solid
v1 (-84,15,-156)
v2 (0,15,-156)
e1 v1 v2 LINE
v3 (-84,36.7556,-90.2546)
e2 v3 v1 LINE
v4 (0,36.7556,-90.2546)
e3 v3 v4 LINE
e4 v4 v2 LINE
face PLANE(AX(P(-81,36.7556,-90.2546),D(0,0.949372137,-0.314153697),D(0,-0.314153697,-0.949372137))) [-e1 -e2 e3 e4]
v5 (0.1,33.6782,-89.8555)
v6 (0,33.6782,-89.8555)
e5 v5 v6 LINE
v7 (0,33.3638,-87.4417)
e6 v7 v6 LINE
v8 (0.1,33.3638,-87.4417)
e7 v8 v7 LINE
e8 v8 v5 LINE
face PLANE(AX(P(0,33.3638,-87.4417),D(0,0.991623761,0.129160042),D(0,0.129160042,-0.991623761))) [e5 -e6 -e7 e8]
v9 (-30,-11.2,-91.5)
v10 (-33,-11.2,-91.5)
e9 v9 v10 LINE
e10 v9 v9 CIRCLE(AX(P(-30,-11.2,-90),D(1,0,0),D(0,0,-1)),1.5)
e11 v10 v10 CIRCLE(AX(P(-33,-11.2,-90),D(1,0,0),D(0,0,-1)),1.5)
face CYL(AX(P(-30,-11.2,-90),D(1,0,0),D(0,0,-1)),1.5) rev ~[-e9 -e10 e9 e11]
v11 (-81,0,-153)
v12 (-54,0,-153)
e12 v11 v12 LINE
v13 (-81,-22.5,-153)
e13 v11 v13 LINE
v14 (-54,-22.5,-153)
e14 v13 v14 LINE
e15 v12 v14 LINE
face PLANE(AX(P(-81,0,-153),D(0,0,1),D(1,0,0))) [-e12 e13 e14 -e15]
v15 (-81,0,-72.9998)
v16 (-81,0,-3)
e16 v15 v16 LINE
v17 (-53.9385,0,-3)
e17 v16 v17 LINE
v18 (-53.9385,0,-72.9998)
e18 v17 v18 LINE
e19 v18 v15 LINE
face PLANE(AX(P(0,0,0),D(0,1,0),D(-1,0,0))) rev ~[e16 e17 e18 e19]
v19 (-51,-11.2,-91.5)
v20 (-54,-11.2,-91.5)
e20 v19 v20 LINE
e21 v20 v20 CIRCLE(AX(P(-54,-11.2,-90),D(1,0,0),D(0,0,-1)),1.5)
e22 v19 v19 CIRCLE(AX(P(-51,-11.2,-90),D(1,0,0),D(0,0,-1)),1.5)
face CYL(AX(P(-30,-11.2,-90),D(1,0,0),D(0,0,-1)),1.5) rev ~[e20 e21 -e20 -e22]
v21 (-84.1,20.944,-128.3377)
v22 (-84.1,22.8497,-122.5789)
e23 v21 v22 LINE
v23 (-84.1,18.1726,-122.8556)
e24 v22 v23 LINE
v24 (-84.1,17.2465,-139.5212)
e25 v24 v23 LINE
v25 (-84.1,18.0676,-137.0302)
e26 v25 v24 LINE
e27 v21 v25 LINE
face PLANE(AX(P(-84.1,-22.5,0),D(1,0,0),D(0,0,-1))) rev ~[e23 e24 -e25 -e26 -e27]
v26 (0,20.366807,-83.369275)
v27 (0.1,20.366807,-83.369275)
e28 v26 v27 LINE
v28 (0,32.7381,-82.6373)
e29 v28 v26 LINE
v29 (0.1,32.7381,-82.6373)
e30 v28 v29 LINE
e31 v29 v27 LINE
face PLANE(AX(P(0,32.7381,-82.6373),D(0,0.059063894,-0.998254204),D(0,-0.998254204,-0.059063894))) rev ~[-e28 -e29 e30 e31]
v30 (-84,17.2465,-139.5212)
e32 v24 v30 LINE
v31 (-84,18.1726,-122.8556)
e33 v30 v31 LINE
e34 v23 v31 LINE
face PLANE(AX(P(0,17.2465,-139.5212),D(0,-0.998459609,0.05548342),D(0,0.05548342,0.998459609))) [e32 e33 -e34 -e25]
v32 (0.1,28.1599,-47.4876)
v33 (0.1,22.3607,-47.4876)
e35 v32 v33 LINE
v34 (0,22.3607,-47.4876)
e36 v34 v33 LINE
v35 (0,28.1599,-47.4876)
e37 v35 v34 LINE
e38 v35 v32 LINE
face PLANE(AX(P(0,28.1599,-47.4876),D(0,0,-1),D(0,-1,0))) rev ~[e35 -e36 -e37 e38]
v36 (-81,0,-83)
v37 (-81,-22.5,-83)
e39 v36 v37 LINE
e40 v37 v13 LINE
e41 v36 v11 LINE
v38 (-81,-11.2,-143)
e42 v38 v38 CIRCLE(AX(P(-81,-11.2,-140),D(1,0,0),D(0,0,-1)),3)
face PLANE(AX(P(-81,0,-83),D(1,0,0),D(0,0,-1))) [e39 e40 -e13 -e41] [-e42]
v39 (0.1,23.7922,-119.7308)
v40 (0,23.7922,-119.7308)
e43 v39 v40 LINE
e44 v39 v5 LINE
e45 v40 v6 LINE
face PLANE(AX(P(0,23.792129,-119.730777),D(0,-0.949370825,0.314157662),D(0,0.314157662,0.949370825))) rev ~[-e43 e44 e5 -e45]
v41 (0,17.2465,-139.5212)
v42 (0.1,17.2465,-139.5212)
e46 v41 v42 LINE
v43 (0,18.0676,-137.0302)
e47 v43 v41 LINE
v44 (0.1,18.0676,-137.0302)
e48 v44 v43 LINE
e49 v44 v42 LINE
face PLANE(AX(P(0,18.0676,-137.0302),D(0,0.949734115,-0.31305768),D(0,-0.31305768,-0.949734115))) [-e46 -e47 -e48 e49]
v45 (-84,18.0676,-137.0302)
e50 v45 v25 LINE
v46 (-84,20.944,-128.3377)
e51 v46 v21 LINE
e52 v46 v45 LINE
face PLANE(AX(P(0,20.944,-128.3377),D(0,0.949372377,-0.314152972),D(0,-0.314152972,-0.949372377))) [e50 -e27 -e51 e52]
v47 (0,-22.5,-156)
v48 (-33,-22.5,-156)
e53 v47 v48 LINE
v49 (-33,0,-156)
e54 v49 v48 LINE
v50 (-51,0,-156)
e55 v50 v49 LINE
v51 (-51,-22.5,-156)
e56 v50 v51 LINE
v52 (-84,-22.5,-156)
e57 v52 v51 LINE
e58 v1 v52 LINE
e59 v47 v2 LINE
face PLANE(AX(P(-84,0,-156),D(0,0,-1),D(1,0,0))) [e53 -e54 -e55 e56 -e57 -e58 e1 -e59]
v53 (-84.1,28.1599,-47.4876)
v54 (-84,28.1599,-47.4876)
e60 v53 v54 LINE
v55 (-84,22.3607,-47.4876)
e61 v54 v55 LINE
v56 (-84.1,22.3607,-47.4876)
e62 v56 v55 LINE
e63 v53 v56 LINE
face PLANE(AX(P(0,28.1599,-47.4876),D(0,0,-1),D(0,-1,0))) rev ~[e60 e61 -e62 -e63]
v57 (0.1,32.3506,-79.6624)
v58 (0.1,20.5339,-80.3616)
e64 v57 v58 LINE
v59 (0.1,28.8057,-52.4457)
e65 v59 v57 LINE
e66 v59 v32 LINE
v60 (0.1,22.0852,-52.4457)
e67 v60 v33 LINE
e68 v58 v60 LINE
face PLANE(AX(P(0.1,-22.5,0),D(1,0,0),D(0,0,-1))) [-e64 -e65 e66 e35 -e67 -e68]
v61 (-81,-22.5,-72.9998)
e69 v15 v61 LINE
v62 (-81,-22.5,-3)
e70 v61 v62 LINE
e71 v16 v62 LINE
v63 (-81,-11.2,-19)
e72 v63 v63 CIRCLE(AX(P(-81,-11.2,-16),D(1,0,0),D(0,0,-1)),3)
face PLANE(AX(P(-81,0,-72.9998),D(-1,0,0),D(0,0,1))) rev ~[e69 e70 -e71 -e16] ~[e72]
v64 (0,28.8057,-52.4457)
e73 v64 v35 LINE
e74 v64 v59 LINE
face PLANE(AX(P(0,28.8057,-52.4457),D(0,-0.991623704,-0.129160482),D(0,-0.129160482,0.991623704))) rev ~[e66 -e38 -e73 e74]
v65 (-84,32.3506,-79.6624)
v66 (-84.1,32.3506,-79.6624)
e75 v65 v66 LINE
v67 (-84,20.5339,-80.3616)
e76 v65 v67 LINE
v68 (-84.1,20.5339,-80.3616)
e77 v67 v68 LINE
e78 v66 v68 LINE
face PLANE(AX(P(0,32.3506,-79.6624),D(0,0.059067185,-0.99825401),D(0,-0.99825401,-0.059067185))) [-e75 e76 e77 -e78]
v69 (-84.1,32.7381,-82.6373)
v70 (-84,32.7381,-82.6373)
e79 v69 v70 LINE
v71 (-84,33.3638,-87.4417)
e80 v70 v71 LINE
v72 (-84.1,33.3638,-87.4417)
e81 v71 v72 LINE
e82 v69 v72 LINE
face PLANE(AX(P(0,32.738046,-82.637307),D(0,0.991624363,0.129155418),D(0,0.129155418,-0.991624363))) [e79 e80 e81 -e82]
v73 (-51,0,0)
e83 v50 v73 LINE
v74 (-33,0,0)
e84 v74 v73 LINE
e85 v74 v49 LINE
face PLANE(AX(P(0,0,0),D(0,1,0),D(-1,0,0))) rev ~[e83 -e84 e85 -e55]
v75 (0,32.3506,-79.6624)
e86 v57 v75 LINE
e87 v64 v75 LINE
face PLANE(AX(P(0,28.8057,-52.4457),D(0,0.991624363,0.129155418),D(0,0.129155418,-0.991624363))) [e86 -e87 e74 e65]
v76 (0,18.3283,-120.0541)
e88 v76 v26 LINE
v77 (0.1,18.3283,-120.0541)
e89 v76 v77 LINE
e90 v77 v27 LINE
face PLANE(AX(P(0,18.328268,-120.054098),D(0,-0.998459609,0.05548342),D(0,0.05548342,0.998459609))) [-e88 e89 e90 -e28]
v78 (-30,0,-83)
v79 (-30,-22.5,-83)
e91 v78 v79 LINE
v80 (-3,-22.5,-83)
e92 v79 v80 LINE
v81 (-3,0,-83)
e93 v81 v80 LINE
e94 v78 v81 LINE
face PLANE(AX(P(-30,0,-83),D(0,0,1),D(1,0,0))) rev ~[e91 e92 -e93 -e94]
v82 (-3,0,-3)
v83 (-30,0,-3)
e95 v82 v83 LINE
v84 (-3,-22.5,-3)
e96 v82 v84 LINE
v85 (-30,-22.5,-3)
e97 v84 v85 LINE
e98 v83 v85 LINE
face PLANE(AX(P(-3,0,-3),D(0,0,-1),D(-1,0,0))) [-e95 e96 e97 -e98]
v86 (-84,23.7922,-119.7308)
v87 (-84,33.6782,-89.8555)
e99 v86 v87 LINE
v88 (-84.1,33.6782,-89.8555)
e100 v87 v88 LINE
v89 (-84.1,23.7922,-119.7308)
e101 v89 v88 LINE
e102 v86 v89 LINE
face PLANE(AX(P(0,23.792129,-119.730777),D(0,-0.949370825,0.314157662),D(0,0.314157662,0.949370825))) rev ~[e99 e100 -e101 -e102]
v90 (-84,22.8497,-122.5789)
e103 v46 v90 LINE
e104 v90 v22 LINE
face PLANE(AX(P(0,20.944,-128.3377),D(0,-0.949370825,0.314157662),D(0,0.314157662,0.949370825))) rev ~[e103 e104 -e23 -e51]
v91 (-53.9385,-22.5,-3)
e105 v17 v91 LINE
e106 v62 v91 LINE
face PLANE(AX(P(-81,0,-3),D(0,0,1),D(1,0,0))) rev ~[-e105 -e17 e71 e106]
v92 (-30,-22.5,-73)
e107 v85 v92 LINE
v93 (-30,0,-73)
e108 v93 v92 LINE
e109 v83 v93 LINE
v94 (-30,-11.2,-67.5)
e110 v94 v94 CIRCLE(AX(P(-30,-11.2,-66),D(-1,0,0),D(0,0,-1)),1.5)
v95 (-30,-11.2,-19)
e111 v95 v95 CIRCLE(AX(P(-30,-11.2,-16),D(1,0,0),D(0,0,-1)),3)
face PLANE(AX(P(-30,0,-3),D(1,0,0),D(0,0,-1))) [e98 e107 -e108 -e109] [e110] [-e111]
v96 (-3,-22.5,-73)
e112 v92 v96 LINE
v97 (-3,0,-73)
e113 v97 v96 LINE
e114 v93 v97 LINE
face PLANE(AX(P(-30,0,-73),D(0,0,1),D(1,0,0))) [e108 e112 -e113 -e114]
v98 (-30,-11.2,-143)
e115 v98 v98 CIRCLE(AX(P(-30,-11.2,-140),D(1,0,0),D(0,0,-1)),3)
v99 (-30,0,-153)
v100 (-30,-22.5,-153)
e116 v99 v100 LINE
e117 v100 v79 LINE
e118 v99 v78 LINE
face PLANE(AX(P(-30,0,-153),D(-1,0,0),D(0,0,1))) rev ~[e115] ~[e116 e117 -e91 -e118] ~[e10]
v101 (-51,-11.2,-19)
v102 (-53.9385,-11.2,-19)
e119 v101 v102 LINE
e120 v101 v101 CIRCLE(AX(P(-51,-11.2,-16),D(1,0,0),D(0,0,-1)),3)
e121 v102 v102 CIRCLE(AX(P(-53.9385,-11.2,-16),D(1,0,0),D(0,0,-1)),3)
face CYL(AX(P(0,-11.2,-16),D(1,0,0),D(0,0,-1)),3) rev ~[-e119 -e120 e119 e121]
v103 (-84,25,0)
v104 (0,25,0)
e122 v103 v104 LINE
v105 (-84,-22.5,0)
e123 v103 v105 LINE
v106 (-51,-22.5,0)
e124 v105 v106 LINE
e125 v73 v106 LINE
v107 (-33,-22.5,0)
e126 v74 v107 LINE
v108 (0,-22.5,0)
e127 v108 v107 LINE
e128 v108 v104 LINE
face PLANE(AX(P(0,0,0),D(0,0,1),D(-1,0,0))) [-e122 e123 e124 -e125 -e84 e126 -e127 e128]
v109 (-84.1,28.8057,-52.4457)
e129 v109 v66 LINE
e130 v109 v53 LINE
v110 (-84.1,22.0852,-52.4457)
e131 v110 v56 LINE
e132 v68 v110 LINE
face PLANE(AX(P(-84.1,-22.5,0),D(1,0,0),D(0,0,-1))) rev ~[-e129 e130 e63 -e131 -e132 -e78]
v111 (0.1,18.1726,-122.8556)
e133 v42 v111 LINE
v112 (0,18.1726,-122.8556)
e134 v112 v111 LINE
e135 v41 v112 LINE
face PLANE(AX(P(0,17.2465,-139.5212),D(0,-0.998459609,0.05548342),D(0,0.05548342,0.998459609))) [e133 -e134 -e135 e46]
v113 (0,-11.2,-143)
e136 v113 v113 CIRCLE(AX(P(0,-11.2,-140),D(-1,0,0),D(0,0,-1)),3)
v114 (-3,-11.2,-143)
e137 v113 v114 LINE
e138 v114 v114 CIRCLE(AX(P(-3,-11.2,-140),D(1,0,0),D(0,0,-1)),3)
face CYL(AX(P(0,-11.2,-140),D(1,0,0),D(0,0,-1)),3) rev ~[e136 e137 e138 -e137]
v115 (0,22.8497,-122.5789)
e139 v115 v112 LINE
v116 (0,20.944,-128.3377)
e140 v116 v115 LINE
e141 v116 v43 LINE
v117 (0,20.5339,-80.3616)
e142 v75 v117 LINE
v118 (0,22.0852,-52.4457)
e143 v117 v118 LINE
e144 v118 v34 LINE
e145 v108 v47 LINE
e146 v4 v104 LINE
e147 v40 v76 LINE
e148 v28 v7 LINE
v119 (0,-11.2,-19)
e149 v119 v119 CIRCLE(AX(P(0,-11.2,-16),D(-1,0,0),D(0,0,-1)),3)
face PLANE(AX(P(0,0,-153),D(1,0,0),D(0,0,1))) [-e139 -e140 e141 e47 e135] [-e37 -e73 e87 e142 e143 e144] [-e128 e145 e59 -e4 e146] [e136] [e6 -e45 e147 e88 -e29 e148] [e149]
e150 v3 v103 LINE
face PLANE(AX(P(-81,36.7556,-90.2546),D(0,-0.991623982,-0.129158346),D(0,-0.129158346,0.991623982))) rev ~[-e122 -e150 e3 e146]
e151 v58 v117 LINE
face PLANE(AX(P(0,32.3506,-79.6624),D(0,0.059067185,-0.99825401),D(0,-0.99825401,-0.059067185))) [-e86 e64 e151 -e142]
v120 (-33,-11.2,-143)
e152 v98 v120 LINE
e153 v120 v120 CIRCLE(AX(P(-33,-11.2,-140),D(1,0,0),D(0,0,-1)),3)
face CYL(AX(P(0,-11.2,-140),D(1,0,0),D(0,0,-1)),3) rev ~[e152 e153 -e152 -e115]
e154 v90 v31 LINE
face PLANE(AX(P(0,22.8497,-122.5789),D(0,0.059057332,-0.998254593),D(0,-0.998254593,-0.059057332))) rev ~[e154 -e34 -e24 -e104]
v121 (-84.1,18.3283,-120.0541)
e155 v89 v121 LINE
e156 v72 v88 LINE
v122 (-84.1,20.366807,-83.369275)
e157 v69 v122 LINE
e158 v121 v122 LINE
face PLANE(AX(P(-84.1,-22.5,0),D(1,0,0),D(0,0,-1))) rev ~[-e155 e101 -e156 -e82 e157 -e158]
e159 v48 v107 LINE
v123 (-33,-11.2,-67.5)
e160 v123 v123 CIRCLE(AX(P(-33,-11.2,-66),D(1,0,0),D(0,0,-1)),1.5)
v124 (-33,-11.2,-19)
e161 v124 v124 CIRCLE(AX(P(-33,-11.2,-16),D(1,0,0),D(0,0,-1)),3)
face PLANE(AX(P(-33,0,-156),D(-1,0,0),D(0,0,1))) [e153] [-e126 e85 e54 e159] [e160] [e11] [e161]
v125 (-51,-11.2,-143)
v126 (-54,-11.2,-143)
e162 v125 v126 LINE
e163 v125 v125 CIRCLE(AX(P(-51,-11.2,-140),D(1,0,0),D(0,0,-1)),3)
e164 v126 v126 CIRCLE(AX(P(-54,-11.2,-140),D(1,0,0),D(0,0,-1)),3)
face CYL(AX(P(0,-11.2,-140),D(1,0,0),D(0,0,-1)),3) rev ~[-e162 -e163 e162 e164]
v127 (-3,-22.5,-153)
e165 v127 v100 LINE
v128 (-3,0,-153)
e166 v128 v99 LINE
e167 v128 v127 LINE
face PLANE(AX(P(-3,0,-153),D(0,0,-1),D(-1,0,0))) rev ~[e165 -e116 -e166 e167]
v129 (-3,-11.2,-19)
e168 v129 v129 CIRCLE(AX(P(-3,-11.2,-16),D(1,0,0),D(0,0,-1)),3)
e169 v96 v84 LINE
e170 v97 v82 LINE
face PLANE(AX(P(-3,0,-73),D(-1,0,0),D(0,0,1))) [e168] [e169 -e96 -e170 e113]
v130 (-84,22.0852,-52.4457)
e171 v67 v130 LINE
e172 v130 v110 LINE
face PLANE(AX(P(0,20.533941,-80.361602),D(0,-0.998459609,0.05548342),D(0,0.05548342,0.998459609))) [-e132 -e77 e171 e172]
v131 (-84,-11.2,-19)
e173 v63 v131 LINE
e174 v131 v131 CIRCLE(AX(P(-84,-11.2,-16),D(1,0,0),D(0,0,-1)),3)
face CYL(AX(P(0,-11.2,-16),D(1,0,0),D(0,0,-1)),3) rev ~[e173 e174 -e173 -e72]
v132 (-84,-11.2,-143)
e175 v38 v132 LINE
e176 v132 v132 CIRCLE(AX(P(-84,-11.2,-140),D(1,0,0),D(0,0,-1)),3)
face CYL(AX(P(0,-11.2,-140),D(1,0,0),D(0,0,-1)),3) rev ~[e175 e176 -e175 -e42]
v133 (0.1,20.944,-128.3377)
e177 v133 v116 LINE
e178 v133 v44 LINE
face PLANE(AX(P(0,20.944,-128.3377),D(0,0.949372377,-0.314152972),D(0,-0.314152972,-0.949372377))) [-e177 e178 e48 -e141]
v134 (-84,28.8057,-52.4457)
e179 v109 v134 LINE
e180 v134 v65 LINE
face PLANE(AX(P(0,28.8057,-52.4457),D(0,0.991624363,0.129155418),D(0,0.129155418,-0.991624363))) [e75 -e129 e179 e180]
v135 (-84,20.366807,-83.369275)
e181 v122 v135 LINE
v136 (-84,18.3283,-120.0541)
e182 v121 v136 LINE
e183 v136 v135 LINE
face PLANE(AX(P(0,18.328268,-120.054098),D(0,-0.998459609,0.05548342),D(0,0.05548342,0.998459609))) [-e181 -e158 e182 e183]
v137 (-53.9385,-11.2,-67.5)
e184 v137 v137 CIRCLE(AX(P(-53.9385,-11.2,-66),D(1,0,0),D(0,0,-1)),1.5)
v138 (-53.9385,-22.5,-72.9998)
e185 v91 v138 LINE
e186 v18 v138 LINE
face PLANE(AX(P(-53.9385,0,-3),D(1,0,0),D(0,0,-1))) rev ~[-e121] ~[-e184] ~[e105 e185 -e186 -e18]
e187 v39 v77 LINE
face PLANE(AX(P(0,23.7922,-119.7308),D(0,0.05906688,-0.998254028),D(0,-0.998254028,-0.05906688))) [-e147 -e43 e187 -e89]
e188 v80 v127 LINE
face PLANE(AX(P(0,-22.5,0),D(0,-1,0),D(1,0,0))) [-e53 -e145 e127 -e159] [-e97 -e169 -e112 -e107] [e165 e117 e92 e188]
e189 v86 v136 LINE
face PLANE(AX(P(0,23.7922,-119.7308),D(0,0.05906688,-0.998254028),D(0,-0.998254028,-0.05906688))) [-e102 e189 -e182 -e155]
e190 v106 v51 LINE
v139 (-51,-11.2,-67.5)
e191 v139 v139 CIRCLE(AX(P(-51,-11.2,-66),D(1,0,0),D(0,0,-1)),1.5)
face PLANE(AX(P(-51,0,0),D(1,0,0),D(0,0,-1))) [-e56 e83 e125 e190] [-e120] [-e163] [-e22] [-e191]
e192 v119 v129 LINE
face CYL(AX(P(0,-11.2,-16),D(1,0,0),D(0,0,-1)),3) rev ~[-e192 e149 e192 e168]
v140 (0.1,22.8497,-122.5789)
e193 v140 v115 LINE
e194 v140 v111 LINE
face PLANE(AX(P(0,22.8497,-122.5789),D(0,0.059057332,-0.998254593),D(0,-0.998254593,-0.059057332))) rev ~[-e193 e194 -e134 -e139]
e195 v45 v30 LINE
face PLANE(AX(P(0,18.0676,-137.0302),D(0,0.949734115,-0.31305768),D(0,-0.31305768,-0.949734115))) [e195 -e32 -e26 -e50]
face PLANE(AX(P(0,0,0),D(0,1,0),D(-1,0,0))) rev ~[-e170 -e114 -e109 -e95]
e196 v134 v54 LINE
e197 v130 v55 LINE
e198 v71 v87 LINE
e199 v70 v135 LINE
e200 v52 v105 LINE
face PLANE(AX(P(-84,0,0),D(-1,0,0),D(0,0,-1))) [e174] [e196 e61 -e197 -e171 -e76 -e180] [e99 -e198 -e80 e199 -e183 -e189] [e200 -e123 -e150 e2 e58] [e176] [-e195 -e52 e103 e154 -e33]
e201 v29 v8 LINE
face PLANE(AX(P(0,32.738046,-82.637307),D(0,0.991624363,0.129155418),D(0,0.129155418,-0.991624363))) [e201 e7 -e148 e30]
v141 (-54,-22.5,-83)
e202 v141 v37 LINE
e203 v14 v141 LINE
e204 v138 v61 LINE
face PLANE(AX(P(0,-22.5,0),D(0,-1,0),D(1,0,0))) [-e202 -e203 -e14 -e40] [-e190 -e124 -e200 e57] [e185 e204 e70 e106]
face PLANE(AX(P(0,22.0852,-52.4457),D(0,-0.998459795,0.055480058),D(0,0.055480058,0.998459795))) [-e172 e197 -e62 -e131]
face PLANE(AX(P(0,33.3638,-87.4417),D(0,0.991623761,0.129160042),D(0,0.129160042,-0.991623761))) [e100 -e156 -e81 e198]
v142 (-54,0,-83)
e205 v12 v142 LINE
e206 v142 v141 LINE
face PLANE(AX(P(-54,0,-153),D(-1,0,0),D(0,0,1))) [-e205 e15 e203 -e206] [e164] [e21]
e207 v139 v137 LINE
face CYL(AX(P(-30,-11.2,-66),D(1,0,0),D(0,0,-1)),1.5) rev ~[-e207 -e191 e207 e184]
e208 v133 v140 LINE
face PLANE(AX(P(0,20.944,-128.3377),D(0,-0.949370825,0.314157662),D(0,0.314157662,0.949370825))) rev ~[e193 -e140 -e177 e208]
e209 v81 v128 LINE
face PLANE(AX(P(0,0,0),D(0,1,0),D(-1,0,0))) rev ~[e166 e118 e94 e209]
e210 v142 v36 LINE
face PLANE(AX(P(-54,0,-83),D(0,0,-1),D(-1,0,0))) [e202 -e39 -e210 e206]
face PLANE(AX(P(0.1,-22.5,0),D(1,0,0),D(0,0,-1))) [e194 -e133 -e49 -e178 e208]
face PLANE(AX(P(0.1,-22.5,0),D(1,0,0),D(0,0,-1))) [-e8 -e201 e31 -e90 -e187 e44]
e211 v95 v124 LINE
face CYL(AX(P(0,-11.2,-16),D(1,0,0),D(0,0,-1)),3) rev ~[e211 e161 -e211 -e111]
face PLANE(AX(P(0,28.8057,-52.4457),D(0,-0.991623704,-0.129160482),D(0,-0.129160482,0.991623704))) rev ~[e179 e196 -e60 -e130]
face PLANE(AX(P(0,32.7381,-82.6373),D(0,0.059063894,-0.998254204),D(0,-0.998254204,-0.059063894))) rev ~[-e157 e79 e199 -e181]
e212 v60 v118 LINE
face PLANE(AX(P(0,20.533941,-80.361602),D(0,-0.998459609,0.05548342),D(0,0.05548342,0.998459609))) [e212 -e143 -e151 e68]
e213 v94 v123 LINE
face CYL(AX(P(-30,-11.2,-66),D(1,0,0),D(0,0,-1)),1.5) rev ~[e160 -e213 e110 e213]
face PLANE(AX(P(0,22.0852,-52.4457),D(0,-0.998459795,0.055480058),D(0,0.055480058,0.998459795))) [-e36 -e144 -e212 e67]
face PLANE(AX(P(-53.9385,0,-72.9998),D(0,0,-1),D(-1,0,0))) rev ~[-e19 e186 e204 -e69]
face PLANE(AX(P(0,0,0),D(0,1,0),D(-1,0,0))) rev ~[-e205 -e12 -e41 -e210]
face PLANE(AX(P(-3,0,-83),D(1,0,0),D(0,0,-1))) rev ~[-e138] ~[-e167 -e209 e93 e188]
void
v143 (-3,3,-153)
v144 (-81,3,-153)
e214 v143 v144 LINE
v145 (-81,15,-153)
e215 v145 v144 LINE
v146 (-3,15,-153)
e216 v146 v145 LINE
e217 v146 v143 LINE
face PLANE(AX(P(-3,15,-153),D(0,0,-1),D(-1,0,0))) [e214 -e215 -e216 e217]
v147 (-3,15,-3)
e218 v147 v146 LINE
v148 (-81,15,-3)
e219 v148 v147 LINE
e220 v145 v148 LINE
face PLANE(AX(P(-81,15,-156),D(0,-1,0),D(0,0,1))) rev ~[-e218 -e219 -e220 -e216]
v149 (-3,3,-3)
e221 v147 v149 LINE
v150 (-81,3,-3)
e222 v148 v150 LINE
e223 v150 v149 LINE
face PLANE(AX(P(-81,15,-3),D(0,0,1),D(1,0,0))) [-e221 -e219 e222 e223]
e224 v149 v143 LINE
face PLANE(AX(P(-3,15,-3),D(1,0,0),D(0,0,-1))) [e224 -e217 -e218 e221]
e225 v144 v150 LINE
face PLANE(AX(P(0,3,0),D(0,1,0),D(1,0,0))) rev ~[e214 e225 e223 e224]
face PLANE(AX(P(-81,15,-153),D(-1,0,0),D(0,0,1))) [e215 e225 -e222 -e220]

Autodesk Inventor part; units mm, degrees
ref_plane "YZ Plane" through (0, 0, 0) normal (1, 0, 0) x (0, 1, 0)
ref_plane "XZ Plane" through (0, 0, 0) normal (0, 1, 0) x (-1, 0, 0)
ref_plane "XY Plane" through (0, 0, 0) normal (0, 0, 1) x (1, 0, 0)
sketch "Sketch1" plane through (0, 0, 0) normal (0, 1, 0) x (-1, 0, 0)
  line L0 (0, 0) -> (84, 0)
  line L1 (84, 0) -> (84, -156)
  line L2 (84, -156) -> (0, -156)
  line L3 (0, -156) -> (0, 0)
  line L4 (84, 0) -> (84, -3)
  line L5 (84, -3) -> (81, -3) construction
  line L6 (0, -156) -> (0, -153)
  line L7 (0, -153) -> (3, -153) construction
  line L8 (81, -3) -> (3, -3)
  line L9 (3, -3) -> (3, -153)
  line L10 (3, -153) -> (81, -153)
  line L11 (81, -153) -> (81, -3)
  dimension "d0" = 84
  dimension "d1" = 156
  dimension "d2" = 3
  dimension "d3" = 3
  dimension "d4" = 3
  dimension "d5" = 3
extrude "Extrusion1" add sketch "Sketch1" along normal blind 15 contours L0 L1 L2 L3 | L11 L10 L9 L8
sketch "Sketch2" plane through (0, 15, 0) normal (0, 1, 0) x (1, 0, 0)
  line L0 (-84, 156) -> (-84, 0) projected
  line L1 (-84, 0) -> (-84, 3)
  line L2 (-84, 3) -> (-81, 3) construction
  line L3 (0, 0) -> (0, 156) projected
  line L4 (0, 156) -> (0, 153)
  line L5 (0, 153) -> (-3, 153) construction
  line L6 (-81, 3) -> (-3, 3)
  line L7 (-3, 3) -> (-3, 153)
  line L8 (-3, 153) -> (-81, 153)
  line L9 (-81, 153) -> (-81, 3)
  dimension "d8" = 3
  dimension "d9" = 3
  dimension "d10" = 3
  dimension "d11" = 3
extrude "Extrusion2" cut sketch "Sketch2" against normal blind 12
sketch "Sketch15" plane through (-81, 3, -3) normal (1, 0, 0) x (0, 0, -1)
  line L0 (87.2546, 33.7556) -> (153, 12)
  line L1 (153, 12) -> (150, 12)
  line L2 (153, 12) -> (-3, 12)
  line L3 (-3, 12) -> (153, 12) projected
  line L4 (-3, 12) -> (-3, 22)
  line L5 (87.2546, 33.7556) -> (-3, 22)
  dimension "d125" = 10
extrude "Extrusion12" add sketch "Sketch15" along normal blind 81 and the other way blind 3
sketch "Sketch16" plane through (0, 0, 0) normal (0, -1, 0) x (1, 0, 0)
  line L0 (0, -156) -> (-3, -156)
  line L1 (0, -153) -> (0, -156)
  line L2 (-3, -153) -> (-30, -153)
  line L3 (-30, -153) -> (-30, -83)
  line L4 (-30, -83) -> (-3, -83)
  line L5 (-3, -83) -> (-3, -153)
  line L6 (-81, -153) -> (-54, -153)
  line L7 (-54, -153) -> (-54, -83)
  line L8 (-54, -83) -> (-81, -83)
  line L9 (-81, -83) -> (-81, -153)
  line L10 (-3, -3) -> (-30, -3)
  line L11 (-30, -3) -> (-30, -73)
  line L12 (-30, -73) -> (-3, -73)
  line L13 (-3, -73) -> (-3, -3)
  line L14 (-81, -3) -> (-53.9385, -3)
  line L15 (-53.9385, -3) -> (-53.9385, -72.9998)
  line L16 (-53.9385, -72.9998) -> (-81, -72.9998)
  line L17 (-81, -72.9998) -> (-81, -3)
  line L18 (-33, -83) -> (-33, -80)
  line L19 (-33, -73) -> (-33, -76)
  line L20 (0, -156) -> (-33, -156)
  line L21 (-33, -156) -> (-33, -80)
  line L22 (0, -80) -> (0, -156)
  line L23 (-84, -156) -> (-51, -156)
  line L24 (-84, -80) -> (-84, -156)
  line L25 (0, 0) -> (-33, 0)
  line L26 (-33, 0) -> (-33, -76)
  line L27 (0, -76) -> (0, 0)
  line L28 (-84, 0) -> (-51, 0)
  line L29 (-51, 0) -> (-51, -72.9998)
  line L30 (-84, -76) -> (-84, 0)
  line L31 (-33, -80) -> (-33, -76)
  line L32 (0, -80) -> (0, -76)
  line L33 (0, -90.2546) -> (0, 0) projected
  line L34 (-51, -156) -> (-51, -83)
  line L35 (-51, -83) -> (-51, -72.9998)
  line L36 (-84, -80) -> (-84, -76)
  line L37 (-84, -156) -> (-84, 0) projected
extrude "Extrusion13" add sketch "Sketch16" along normal blind 22.5
sketch "Sketch17" plane through (0, -22.5, 0) normal (1, 0, 0) x (0, 0, -1)
  line L0 (156, 22.5) -> (0, 22.5) projected
  line L1 (0, 22.5) -> (16, 22.5)
  line L2 (16, 22.5) -> (16, 11.3)
  line L3 (156, 22.5) -> (156, 0) projected
  line L4 (156, 22.5) -> (140, 22.5)
  line L5 (140, 22.5) -> (140, 11.3)
  circle A0 centre (140, 11.3) radius 3
  circle A1 centre (16, 11.3) radius 3
  dimension "d152" = 16
  dimension "d153" = 11.2
  dimension "d154" = 16
  dimension "d155" = 11.2
  dimension "d156" = 6
  dimension "d157" = 6
extrude "Extrusion14" cut sketch "Sketch17" against normal blind 104.25
sketch "Sketch18" plane through (-30, 0, -3) normal (1, 0, 0) x (0, 0, -1)
  circle A0 centre (13, -11.2) radius 3 projected
  line L0 (13, -11.2) -> (63, -11.2)
  circle A1 centre (63, -11.2) radius 1.5
  circle A2 centre (137, -11.2) radius 3 projected
  line L1 (137, -11.2) -> (87, -11.2)
  circle A3 centre (87, -11.2) radius 1.5
  point P0 (-3, 0)
  dimension "d160" = 50
  dimension "d161" = 3
  dimension "d162" = 50
  dimension "d163" = 3
extrude "Extrusion15" cut sketch "Sketch18" against normal blind 35 contours A1 | A3
sketch "Sketch19" plane through (0, -22.5, 0) normal (1, 0, 0) x (0, 0, -1)
  line L0 (24.5867, 50.7024) -> (27.5867, 50.7024) construction
  line L1 (52.4457, 51.3057) -> (87.4417, 55.8638)
  line L2 (87.4417, 55.8638) -> (89.8555, 56.1782)
  line L3 (128.3377, 43.444) -> (89.8555, 56.1782)
  line L4 (128.3377, 43.444) -> (137.0302, 40.5676)
  line L5 (3, 37.5) -> (153, 37.5) construction
  line L6 (136.0152, 37.5) -> (139.0152, 37.5) construction
  line L7 (138.3236, 37.5) -> (141.3236, 37.5) construction
  line L8 (137.0302, 40.5676) -> (139.5212, 39.7465)
  line L9 (0, 47.5) -> (0, 0) construction
  line L10 (139.5212, 39.7465) -> (52.4457, 44.5852)
  line L11 (82.6373, 55.2381) -> (79.6624, 54.8506) construction
  line L12 (82.6373, 55.2381) -> (83.3756, 42.7599)
  line L13 (82.6373, 55.2381) -> (79.6624, 54.8506)
  line L14 (79.6624, 54.8506) -> (80.3616, 43.0339)
  line L15 (119.7308, 46.2922) -> (120.0541, 40.8283)
  line L16 (122.5789, 45.3497) -> (122.8556, 40.6726)
  line L17 (52.4457, 51.3057) -> (47.4876, 50.6599)
  line L18 (47.4876, 50.6599) -> (47.4876, 44.8607)
  line L19 (52.4457, 44.5852) -> (47.4876, 44.8607)
  point P0 (0, 22.5)
  point P1 (83.3692, 42.8668)
  dimension "d178" = 3
  dimension "d180" = 3
  dimension "d182" = 3
  dimension "d183" = 3
  dimension "d184" = 5
extrude "Extrusion17" cut sketch "Sketch19" against normal up to surface (84 mm away) contours L1 L14 L10 L19 L18 L17 | L1 L2 L3 L15 L10 L12 | L16 L3 L4 L8 L10
extrude "Extrusion18" add sketch "Sketch19" along normal blind 0.1 and the other way blind 84.1 contours L1 L14 L10 L19 L18 L17 | L1 L2 L3 L15 L10 L12 | L16 L3 L4 L8 L10
properties part number "prototype 2"
